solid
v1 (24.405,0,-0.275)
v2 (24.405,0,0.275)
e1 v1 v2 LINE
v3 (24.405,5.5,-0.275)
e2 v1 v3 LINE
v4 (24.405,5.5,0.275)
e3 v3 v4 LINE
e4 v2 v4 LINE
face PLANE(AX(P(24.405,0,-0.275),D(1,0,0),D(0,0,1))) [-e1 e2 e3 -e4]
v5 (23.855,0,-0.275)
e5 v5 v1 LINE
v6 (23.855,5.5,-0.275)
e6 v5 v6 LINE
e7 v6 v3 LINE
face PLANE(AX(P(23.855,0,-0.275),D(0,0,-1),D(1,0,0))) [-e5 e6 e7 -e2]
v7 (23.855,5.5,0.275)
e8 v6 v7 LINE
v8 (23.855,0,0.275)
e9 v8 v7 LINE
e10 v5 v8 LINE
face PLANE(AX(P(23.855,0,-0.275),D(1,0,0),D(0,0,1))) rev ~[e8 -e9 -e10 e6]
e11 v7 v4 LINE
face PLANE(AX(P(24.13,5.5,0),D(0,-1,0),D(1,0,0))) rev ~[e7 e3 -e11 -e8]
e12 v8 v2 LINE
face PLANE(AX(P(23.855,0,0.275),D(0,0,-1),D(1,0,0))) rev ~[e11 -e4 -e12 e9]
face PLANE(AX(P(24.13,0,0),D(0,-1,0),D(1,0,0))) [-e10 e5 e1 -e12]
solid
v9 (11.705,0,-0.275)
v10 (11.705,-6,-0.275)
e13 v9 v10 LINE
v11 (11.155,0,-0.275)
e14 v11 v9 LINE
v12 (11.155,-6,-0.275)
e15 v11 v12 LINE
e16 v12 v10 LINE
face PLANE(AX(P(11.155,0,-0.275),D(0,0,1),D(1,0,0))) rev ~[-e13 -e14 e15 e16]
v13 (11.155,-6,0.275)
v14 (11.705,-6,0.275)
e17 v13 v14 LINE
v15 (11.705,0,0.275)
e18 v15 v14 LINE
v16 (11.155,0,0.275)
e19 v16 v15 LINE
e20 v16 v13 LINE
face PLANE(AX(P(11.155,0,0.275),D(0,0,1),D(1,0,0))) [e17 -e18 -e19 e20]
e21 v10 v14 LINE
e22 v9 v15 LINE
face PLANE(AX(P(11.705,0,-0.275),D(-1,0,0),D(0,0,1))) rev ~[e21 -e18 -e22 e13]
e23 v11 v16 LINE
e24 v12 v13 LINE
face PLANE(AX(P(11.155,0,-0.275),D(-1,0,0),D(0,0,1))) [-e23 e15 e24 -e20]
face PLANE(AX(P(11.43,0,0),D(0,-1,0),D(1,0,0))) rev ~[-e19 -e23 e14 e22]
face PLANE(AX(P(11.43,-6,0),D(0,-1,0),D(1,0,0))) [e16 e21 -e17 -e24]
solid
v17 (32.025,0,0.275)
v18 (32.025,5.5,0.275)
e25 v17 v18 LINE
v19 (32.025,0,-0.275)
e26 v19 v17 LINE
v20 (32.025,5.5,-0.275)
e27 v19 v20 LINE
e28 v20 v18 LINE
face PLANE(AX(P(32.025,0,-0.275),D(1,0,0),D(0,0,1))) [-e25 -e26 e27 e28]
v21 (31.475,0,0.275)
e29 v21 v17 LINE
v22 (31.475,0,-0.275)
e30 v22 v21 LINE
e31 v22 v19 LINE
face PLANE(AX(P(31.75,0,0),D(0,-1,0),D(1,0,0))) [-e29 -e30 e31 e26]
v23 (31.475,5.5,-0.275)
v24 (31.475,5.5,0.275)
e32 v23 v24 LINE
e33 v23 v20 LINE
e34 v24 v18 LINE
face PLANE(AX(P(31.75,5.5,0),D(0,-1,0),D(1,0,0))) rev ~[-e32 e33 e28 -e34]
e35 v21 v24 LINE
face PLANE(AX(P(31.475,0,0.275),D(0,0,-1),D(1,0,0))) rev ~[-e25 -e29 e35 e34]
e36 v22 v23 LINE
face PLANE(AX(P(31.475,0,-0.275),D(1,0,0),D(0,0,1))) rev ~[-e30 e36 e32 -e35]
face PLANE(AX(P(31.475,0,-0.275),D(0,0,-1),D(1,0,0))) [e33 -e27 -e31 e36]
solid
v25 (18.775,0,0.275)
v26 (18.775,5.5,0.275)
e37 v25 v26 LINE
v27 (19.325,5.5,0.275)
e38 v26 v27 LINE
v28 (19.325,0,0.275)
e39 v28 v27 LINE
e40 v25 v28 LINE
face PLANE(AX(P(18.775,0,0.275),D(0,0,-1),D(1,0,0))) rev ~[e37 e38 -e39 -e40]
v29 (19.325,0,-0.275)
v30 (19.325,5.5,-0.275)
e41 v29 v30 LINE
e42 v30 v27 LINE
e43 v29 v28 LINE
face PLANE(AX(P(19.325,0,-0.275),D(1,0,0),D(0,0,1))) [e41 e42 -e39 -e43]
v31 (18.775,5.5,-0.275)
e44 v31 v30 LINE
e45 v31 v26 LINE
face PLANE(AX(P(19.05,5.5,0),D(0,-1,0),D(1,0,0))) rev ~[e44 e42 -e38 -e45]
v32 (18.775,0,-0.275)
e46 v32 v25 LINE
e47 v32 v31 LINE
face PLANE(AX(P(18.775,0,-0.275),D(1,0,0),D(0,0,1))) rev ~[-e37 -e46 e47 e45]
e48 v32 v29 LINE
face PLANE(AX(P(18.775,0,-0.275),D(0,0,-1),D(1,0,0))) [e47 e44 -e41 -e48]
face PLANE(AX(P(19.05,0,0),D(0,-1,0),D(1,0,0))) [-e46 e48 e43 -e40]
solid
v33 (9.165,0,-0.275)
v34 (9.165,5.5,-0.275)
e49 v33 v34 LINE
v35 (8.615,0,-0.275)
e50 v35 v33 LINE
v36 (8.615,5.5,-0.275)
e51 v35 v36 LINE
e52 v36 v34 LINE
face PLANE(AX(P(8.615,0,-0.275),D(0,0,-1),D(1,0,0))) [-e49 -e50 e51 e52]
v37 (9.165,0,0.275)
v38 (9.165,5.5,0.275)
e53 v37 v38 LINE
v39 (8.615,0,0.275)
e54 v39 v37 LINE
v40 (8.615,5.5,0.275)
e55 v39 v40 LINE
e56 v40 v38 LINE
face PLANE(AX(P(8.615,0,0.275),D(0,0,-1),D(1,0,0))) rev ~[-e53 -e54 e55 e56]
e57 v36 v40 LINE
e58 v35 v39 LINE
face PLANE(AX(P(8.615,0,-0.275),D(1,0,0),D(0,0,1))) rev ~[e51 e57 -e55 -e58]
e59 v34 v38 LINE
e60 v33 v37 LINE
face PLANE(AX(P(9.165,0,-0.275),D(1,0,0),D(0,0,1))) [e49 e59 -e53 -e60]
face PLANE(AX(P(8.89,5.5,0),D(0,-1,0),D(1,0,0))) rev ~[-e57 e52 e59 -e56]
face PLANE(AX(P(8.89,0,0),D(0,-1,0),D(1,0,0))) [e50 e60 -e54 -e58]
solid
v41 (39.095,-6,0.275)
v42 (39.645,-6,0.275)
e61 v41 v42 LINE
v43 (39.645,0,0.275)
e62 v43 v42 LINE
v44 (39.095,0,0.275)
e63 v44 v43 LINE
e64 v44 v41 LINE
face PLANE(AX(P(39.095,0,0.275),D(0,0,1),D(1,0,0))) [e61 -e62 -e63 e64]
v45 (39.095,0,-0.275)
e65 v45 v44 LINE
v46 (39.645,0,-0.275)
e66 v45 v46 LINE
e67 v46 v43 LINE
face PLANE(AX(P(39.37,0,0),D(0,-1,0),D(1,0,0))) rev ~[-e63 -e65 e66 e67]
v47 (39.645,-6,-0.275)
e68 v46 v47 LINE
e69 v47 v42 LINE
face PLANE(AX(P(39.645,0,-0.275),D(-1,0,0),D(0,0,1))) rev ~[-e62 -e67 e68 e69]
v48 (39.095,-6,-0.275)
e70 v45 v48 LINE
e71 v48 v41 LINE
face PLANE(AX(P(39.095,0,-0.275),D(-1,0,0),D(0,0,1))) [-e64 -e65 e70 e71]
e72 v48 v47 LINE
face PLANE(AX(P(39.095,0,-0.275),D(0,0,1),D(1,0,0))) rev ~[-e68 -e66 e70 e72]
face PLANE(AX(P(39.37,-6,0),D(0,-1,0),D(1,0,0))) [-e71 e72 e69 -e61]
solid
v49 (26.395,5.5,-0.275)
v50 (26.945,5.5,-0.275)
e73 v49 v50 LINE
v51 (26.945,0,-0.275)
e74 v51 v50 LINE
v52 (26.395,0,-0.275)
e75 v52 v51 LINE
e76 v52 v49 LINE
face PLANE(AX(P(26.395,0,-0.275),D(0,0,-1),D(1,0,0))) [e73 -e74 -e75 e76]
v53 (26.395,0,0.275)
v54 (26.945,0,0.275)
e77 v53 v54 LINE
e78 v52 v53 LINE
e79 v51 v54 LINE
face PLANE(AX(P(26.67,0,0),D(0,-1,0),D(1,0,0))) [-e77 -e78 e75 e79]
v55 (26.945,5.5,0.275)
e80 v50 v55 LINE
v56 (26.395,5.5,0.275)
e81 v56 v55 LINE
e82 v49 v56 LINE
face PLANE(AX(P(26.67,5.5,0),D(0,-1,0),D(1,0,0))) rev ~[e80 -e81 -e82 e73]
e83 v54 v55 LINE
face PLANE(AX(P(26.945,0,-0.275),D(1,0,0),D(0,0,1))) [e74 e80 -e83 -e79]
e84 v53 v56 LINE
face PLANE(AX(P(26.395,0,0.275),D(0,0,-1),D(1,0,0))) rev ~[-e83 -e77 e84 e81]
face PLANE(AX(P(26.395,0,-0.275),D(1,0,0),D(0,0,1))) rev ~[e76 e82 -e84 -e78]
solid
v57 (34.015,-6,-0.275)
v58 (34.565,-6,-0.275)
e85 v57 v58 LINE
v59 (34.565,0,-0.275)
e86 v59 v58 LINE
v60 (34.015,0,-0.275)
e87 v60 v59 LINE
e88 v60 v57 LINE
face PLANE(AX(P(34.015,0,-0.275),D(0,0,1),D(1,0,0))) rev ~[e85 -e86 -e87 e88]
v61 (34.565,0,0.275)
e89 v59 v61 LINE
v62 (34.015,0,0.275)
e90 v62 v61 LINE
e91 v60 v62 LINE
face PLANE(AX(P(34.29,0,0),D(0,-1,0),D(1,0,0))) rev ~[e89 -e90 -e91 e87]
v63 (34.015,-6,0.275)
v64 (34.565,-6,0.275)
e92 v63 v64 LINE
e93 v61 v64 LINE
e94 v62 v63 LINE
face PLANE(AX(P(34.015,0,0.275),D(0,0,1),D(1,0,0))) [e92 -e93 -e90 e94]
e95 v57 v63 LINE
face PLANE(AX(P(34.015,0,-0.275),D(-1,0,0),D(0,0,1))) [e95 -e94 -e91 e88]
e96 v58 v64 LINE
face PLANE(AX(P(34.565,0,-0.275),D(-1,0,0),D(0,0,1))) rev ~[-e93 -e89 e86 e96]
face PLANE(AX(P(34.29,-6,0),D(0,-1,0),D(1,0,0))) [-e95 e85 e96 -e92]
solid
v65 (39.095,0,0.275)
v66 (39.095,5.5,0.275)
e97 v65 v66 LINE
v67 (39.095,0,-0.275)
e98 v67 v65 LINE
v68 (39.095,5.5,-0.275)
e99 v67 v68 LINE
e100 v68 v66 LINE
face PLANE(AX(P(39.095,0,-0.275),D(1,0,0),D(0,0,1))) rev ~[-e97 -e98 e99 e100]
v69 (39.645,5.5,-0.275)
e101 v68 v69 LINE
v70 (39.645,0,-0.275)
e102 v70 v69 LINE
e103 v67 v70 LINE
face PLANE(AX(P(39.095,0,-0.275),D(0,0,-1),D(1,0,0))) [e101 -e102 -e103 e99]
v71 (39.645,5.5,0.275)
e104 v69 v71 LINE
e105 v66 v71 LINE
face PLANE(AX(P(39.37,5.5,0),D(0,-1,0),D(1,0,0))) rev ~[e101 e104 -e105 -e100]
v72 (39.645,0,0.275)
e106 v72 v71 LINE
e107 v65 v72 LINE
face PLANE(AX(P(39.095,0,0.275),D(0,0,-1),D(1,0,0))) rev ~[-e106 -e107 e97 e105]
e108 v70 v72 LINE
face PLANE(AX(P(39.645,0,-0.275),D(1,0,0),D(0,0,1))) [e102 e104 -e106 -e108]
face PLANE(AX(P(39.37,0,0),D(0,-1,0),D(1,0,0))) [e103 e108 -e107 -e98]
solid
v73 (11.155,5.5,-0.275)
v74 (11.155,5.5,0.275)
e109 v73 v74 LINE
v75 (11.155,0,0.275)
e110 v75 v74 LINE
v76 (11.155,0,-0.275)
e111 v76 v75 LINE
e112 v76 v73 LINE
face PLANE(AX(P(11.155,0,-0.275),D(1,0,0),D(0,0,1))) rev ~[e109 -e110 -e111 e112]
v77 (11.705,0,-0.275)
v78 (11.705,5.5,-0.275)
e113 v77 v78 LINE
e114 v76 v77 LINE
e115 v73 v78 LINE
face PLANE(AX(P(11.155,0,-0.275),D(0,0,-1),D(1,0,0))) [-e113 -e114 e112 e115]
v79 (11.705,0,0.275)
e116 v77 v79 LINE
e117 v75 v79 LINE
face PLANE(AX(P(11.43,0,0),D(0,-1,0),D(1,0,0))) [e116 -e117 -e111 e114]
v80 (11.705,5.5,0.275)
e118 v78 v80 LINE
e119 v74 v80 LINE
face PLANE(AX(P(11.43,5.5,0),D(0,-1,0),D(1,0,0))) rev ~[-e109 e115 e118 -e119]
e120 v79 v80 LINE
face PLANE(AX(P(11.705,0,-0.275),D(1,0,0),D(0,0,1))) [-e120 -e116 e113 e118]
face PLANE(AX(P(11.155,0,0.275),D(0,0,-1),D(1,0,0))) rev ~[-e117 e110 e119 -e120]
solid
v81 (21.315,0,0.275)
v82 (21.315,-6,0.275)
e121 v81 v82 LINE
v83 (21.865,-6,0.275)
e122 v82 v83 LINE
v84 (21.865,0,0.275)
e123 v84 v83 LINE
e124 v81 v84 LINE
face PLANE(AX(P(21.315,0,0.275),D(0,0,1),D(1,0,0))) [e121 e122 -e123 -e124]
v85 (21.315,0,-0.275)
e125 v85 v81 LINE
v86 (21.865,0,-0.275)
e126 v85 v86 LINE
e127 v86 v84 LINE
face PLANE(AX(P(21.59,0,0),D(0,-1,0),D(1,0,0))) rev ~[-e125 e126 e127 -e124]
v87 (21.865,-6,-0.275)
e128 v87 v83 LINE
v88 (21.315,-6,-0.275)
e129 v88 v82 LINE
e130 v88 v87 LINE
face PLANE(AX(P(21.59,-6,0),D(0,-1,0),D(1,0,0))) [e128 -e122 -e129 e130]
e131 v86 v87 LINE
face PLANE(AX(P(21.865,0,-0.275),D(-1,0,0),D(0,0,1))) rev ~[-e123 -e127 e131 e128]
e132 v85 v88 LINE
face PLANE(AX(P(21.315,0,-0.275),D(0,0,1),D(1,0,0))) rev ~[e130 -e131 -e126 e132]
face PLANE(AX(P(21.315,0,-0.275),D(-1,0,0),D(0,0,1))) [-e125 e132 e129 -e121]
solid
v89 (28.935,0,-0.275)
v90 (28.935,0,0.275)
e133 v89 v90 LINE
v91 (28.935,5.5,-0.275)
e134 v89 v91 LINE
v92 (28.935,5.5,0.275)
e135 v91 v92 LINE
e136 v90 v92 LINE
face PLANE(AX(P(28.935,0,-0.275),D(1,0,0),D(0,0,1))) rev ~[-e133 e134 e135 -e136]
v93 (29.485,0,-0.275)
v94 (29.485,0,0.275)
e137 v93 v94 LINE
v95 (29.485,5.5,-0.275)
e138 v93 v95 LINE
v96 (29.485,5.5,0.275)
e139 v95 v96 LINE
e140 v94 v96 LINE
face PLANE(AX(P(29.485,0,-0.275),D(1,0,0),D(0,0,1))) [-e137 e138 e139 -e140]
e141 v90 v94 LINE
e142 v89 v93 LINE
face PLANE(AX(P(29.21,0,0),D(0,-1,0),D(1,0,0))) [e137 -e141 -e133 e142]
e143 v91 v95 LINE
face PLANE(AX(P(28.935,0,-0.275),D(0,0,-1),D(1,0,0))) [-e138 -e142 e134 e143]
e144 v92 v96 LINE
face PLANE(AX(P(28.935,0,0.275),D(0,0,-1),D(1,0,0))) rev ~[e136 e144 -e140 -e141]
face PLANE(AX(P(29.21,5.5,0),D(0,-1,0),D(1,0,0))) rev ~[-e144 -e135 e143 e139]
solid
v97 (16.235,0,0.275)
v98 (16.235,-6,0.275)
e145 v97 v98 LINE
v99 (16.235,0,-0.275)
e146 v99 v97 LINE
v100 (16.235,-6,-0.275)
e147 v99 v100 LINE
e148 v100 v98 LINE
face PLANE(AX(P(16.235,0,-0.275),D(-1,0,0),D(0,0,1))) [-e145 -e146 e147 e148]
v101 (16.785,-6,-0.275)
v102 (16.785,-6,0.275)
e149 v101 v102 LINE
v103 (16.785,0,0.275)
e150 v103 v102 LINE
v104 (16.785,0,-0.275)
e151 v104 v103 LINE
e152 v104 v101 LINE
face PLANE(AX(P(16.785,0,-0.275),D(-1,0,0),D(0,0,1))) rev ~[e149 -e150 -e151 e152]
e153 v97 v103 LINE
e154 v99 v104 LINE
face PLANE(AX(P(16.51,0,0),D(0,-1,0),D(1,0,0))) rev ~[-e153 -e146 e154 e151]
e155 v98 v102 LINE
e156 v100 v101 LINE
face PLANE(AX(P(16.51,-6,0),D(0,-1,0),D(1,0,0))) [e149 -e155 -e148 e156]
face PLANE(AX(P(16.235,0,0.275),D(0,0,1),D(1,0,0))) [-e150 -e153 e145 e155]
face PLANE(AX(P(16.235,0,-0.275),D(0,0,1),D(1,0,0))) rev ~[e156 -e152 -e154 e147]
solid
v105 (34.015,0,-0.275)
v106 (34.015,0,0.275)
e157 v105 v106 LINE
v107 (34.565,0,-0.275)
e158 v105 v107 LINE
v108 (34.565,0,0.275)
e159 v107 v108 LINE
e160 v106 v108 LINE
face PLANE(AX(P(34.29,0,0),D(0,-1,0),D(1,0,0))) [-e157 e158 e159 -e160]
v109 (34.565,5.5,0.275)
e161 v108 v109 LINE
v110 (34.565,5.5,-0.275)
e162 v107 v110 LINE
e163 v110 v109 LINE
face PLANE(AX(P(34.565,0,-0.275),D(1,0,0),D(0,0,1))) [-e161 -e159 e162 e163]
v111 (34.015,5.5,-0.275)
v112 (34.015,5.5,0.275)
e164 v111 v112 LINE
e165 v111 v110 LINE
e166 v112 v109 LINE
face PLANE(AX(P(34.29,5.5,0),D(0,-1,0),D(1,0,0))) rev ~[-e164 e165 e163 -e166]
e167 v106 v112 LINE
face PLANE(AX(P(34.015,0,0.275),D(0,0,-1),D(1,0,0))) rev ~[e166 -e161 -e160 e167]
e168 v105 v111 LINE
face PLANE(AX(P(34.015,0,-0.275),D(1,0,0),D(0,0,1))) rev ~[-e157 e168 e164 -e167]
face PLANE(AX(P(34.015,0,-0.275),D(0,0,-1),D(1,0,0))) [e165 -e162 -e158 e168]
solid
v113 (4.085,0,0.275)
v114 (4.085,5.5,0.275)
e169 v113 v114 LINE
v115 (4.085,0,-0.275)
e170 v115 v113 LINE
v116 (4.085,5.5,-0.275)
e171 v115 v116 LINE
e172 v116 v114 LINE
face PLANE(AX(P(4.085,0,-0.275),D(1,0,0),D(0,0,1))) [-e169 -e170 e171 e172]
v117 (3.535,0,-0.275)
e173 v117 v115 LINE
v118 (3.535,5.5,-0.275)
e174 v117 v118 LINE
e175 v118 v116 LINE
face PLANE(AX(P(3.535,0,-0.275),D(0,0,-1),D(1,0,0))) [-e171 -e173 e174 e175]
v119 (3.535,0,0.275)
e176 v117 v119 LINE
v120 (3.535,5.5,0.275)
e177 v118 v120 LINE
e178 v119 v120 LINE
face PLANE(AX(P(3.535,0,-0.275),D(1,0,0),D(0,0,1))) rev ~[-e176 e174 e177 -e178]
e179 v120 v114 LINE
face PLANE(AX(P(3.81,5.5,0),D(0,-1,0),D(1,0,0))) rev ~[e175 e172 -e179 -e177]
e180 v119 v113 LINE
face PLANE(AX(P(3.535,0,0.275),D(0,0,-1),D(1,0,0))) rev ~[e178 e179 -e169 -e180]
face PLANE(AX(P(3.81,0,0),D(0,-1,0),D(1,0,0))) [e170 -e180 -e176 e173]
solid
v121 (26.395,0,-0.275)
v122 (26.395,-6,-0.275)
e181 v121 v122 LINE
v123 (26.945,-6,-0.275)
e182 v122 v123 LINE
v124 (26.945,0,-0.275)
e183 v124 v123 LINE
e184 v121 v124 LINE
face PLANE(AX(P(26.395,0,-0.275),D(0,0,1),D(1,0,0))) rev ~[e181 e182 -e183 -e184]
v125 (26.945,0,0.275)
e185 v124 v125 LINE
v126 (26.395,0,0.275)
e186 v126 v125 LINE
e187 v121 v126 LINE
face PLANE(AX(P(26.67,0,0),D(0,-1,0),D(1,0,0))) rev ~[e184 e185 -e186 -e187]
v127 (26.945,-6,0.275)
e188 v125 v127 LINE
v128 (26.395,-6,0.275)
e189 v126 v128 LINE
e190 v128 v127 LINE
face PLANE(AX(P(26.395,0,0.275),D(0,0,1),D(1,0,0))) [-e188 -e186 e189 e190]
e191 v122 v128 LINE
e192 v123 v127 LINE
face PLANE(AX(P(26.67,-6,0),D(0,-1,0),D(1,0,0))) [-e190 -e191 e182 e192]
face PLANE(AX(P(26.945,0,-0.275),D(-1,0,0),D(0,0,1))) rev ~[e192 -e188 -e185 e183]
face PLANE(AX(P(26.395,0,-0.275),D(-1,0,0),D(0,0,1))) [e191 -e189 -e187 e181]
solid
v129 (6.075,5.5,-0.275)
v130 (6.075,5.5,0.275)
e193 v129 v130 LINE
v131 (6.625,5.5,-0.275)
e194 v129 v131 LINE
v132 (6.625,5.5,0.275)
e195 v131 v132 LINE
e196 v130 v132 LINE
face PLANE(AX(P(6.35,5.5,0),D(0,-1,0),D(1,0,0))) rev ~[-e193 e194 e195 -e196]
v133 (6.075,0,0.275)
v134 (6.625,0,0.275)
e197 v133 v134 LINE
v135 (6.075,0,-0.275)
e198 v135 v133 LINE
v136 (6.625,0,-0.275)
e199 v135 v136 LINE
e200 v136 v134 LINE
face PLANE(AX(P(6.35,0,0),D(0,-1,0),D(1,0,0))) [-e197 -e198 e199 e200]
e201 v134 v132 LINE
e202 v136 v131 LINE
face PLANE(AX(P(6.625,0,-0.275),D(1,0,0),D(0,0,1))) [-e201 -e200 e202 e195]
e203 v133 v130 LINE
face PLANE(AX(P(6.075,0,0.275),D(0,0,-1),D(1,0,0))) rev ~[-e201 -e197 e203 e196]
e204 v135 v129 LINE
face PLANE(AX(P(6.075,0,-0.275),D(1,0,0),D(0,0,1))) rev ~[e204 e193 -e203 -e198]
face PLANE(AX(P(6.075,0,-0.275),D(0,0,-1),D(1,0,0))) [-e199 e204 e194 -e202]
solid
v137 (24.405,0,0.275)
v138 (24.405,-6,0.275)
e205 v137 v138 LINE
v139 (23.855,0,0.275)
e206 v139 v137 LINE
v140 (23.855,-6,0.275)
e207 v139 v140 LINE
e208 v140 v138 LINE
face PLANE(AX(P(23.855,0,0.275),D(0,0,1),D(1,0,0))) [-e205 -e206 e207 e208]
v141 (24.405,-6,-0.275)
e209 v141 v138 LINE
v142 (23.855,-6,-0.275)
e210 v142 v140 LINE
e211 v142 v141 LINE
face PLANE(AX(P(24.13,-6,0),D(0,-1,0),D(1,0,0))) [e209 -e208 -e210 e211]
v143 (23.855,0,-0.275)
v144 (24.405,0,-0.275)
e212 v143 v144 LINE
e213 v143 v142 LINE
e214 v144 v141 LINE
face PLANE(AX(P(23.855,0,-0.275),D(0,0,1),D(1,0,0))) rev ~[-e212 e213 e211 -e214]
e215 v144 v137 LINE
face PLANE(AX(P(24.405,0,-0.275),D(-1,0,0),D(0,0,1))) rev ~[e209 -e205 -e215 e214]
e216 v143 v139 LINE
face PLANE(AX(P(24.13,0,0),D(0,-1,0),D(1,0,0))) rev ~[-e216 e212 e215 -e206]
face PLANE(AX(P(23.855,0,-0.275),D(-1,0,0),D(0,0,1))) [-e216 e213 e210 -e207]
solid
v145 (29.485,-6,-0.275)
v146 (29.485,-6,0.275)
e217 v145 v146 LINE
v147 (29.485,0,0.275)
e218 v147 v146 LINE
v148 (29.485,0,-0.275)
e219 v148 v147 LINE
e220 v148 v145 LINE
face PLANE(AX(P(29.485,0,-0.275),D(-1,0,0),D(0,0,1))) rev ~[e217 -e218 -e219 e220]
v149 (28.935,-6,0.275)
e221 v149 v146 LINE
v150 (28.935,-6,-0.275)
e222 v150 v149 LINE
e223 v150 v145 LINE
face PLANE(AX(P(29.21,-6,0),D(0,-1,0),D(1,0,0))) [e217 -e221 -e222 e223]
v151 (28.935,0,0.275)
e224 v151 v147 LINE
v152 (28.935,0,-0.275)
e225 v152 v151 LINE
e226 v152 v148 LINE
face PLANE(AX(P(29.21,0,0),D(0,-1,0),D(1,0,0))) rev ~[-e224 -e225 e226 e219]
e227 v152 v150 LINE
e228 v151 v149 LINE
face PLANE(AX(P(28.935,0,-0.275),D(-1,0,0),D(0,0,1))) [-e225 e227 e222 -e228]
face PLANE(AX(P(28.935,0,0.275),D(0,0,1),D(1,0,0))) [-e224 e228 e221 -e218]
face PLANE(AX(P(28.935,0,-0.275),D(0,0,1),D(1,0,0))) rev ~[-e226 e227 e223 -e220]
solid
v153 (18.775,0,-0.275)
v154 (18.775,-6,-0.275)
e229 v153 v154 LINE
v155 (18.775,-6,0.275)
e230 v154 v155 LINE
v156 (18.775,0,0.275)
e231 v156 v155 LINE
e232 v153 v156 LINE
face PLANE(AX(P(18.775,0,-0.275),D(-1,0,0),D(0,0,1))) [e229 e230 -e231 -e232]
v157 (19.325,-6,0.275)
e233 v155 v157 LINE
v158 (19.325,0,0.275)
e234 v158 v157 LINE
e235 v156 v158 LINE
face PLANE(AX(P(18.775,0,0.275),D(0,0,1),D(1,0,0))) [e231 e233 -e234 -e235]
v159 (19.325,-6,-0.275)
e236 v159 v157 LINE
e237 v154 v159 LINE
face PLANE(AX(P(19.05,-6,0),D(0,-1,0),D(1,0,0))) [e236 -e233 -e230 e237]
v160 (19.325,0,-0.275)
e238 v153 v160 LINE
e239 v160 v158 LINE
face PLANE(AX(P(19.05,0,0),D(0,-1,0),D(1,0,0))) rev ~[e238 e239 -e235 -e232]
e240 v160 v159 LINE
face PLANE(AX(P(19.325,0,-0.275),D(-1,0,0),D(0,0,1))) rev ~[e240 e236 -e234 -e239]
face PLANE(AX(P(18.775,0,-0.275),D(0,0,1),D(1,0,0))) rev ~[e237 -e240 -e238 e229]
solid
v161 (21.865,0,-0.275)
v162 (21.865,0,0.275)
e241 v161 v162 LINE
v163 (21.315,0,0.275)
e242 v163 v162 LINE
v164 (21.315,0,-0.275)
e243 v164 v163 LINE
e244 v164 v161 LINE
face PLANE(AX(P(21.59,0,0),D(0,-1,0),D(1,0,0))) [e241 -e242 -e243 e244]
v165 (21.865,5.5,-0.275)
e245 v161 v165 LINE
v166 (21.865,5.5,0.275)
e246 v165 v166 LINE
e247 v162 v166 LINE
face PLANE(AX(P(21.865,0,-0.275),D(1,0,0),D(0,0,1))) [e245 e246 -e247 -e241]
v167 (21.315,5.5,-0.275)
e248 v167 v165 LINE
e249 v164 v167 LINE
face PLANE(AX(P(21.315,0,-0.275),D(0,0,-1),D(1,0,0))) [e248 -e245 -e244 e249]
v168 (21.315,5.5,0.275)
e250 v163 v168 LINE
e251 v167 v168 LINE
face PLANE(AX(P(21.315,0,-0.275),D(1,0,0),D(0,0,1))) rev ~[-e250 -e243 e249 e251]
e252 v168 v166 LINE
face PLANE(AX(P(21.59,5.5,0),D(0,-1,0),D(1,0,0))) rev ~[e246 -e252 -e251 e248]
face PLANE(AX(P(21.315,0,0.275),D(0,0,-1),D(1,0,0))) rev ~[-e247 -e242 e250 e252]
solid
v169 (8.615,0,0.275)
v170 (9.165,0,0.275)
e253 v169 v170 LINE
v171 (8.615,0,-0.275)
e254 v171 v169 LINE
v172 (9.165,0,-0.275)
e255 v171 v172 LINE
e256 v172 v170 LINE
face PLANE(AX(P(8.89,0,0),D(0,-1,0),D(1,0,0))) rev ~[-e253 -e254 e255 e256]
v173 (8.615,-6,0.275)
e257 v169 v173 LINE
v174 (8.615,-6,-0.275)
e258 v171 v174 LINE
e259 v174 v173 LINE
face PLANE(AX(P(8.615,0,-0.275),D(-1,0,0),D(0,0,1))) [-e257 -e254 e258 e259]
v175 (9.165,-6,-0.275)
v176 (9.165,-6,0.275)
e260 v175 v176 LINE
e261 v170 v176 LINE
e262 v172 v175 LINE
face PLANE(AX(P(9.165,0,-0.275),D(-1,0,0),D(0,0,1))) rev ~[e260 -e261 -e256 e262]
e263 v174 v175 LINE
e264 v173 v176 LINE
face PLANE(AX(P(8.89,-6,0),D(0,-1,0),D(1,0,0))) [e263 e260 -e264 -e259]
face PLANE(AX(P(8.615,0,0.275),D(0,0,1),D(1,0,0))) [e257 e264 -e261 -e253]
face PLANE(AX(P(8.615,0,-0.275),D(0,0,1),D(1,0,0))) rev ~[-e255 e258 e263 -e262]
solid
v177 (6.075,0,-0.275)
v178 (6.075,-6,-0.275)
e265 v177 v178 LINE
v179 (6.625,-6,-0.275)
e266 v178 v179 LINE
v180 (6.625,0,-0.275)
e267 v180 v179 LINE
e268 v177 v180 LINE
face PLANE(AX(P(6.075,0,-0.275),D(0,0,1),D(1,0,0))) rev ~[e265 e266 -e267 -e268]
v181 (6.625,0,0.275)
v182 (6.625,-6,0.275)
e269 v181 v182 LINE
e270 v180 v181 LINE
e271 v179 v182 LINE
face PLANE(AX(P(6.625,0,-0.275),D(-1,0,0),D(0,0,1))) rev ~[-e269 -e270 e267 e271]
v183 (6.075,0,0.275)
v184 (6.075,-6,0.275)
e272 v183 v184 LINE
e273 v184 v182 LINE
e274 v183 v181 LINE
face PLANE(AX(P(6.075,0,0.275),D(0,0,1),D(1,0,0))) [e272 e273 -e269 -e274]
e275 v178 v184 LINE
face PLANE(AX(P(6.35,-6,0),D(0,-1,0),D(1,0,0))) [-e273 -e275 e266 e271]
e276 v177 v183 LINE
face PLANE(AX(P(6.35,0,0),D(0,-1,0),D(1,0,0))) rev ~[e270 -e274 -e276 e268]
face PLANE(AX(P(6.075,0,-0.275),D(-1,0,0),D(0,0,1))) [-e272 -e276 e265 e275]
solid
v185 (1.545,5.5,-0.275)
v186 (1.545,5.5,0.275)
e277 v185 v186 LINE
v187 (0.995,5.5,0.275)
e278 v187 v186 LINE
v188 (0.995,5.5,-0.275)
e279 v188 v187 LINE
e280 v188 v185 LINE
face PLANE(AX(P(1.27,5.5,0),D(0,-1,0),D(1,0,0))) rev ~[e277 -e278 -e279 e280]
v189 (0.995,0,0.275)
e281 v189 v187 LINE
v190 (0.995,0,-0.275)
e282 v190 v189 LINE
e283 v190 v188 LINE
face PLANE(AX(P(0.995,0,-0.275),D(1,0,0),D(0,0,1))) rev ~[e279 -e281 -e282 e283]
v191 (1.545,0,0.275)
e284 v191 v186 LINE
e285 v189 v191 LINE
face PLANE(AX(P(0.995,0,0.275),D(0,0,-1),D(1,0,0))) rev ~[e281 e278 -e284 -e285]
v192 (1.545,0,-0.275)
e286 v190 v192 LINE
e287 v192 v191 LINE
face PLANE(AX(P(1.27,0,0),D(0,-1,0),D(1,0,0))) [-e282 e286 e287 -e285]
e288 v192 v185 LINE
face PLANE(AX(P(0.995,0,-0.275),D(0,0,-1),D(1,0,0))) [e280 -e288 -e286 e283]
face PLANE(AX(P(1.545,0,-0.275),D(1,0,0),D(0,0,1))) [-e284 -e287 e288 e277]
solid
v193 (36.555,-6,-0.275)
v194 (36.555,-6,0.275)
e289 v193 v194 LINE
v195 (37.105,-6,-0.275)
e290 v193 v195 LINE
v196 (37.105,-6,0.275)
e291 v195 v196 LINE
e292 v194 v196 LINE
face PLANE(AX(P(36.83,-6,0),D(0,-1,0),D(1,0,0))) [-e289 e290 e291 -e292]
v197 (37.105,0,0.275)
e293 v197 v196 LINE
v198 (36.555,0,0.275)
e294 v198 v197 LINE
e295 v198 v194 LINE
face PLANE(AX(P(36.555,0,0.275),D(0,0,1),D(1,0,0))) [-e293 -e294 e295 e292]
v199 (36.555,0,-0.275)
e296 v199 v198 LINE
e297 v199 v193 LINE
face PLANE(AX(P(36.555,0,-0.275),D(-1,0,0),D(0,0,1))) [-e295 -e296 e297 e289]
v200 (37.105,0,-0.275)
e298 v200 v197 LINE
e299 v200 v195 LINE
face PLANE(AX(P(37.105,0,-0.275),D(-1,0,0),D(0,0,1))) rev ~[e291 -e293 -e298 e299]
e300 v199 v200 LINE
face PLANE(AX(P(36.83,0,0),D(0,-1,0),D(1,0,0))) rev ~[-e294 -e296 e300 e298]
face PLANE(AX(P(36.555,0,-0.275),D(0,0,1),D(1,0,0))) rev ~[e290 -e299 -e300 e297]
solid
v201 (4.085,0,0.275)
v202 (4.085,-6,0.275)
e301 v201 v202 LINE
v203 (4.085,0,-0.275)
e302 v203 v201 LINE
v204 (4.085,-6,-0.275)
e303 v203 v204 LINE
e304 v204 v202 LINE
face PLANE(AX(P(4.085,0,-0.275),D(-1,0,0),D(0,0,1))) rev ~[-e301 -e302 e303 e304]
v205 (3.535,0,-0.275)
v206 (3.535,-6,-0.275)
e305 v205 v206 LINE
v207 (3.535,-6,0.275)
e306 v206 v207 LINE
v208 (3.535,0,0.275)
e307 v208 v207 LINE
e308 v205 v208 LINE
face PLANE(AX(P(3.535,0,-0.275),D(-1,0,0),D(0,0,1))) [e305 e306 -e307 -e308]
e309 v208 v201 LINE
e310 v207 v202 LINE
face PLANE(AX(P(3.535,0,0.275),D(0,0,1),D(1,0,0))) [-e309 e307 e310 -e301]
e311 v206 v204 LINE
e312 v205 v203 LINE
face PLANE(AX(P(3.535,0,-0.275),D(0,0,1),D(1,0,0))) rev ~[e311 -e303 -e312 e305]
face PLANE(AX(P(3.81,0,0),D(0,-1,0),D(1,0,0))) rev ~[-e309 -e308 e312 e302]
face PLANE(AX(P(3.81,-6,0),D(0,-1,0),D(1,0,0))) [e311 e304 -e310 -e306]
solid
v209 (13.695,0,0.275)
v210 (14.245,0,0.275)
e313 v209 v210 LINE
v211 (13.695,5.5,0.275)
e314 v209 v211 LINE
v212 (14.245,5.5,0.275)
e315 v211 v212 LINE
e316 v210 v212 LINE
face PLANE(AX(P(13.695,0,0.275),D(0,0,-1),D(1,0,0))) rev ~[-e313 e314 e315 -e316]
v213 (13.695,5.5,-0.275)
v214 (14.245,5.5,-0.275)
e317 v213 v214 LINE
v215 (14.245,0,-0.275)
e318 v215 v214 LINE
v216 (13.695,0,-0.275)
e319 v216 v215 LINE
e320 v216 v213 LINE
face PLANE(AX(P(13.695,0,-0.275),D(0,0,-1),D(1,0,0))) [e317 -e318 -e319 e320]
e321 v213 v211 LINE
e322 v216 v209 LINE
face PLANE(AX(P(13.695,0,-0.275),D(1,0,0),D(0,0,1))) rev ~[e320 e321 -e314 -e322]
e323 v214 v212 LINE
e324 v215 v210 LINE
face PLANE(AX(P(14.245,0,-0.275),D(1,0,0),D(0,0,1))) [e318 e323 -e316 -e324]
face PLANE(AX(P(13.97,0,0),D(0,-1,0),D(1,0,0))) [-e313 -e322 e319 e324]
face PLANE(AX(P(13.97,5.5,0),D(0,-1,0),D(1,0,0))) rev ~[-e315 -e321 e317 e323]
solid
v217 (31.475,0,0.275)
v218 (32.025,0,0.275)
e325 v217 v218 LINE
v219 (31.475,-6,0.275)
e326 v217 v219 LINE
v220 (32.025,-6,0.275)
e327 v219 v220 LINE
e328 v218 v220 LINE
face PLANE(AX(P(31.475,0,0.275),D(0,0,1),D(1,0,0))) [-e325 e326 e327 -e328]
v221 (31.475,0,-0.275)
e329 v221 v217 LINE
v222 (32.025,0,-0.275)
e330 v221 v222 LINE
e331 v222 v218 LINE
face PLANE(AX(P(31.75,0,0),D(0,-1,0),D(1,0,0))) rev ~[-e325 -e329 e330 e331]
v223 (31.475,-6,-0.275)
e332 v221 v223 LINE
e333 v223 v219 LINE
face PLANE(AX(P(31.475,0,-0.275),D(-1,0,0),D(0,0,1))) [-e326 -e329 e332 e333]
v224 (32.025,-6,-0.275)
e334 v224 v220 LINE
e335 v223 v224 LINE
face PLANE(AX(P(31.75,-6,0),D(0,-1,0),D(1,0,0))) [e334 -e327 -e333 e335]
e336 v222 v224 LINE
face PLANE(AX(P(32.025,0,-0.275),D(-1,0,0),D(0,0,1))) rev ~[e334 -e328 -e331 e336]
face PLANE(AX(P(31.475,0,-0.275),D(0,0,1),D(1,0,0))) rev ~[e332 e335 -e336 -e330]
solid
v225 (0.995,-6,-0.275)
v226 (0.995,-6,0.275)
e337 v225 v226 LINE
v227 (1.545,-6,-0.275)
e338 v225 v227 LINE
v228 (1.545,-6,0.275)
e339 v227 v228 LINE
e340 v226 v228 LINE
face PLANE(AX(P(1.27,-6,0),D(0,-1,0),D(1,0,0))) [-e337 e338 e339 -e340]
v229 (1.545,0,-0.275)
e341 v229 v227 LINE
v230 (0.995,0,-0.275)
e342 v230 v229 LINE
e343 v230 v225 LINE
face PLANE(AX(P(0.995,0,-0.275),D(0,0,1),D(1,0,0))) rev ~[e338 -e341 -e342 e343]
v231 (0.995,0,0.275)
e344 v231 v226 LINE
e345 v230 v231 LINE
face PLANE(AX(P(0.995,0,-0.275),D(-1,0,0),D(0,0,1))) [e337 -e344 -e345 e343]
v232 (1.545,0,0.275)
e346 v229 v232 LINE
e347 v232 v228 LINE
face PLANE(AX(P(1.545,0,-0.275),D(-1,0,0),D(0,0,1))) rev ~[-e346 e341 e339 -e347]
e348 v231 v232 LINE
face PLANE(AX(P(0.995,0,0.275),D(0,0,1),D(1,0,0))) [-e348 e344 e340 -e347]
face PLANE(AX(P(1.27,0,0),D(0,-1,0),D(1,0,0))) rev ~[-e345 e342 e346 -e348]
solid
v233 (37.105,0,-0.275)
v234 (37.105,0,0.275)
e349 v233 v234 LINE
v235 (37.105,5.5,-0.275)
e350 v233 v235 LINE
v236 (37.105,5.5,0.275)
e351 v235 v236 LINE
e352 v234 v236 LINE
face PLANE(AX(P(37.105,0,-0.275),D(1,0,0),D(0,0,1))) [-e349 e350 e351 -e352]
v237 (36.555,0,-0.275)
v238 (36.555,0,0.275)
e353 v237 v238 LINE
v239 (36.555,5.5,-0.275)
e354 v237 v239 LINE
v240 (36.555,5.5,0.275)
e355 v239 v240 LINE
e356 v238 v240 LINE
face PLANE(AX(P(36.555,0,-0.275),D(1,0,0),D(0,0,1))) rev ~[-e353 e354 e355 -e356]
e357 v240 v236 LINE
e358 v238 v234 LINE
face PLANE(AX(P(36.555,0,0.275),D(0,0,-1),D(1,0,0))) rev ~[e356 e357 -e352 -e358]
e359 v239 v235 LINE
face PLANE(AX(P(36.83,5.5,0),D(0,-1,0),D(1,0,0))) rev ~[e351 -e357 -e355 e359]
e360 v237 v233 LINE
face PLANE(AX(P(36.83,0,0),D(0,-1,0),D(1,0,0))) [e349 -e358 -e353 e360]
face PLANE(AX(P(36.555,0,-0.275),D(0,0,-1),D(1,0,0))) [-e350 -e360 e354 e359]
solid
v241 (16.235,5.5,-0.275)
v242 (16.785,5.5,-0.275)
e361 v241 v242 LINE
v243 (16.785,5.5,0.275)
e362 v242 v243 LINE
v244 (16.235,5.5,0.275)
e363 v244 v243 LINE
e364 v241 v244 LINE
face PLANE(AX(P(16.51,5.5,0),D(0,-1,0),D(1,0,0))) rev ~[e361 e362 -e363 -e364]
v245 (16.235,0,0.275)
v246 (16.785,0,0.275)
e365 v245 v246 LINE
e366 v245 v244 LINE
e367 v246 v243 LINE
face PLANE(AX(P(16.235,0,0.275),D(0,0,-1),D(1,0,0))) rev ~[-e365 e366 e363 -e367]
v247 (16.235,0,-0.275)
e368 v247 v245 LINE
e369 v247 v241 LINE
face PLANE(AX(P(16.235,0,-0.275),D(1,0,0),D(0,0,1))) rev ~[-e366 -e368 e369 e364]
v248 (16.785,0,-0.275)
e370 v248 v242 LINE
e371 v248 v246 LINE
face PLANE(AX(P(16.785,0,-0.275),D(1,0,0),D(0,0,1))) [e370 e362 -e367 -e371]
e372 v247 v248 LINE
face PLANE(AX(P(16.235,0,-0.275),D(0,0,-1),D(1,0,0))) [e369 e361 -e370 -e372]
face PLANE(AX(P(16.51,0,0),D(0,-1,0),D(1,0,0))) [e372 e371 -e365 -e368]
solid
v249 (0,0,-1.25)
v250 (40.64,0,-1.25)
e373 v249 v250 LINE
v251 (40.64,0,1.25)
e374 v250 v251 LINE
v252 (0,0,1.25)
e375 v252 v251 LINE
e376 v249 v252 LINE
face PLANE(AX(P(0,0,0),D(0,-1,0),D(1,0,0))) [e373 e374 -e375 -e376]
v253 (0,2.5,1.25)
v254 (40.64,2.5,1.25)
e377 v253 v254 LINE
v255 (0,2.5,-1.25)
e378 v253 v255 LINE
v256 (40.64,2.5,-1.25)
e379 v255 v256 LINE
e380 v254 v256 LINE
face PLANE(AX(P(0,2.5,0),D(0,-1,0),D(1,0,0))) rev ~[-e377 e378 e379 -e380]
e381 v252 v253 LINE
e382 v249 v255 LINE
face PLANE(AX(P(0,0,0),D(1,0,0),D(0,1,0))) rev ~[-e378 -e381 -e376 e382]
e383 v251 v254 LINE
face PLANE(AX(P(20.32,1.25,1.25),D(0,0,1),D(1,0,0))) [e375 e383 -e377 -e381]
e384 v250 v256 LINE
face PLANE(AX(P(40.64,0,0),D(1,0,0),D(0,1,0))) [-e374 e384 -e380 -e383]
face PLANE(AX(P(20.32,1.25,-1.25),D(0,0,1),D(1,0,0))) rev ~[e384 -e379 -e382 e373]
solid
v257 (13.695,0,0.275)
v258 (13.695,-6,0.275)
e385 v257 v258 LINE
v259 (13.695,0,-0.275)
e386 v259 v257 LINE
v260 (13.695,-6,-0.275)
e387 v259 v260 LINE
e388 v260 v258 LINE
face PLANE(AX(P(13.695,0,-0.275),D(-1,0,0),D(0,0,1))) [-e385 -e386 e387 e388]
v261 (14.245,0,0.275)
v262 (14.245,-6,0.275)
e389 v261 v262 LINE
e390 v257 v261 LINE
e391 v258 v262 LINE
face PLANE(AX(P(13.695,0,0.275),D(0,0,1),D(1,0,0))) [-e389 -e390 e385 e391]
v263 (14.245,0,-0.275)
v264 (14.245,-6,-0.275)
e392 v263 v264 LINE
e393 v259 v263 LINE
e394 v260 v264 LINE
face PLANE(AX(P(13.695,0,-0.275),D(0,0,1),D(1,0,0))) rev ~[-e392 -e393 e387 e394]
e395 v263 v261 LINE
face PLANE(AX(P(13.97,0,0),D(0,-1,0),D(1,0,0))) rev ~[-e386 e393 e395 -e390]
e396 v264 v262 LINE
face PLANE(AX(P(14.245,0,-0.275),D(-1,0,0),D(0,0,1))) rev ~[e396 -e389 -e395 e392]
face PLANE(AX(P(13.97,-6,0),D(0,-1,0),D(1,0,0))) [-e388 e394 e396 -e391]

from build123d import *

# Parameters (mm, degrees)
SKETCH1_W              = 40.64
SKETCH1_H              = 2.5
BOSS_EXTRUDE1_DEPTH    = 1.25
SKETCH2_W              = 0.55
SKETCH2_H              = 0.55
BOSS_EXTRUDE2_DEPTH    = 6
BOSS_EXTRUDE2_2_DEPTH  = 6
BOSS_EXTRUDE2_3_DEPTH  = 6
BOSS_EXTRUDE2_4_DEPTH  = 6
BOSS_EXTRUDE2_5_DEPTH  = 6
BOSS_EXTRUDE2_6_DEPTH  = 6
BOSS_EXTRUDE2_7_DEPTH  = 6
BOSS_EXTRUDE2_8_DEPTH  = 6
BOSS_EXTRUDE2_9_DEPTH  = 6
BOSS_EXTRUDE2_10_DEPTH = 6
BOSS_EXTRUDE2_11_DEPTH = 6
BOSS_EXTRUDE2_12_DEPTH = 6
BOSS_EXTRUDE2_13_DEPTH = 6
BOSS_EXTRUDE2_14_DEPTH = 6
BOSS_EXTRUDE2_15_DEPTH = 6
BOSS_EXTRUDE2_16_DEPTH = 6
SKETCH2_2_W            = 0.55
SKETCH2_2_H            = 0.55
BOSS_EXTRUDE3_DEPTH    = 5.5
BOSS_EXTRUDE3_2_DEPTH  = 5.5
BOSS_EXTRUDE3_3_DEPTH  = 5.5
BOSS_EXTRUDE3_4_DEPTH  = 5.5
BOSS_EXTRUDE3_5_DEPTH  = 5.5
BOSS_EXTRUDE3_6_DEPTH  = 5.5
BOSS_EXTRUDE3_7_DEPTH  = 5.5
BOSS_EXTRUDE3_8_DEPTH  = 5.5
BOSS_EXTRUDE3_9_DEPTH  = 5.5
BOSS_EXTRUDE3_10_DEPTH = 5.5
BOSS_EXTRUDE3_11_DEPTH = 5.5
BOSS_EXTRUDE3_12_DEPTH = 5.5
BOSS_EXTRUDE3_13_DEPTH = 5.5
BOSS_EXTRUDE3_14_DEPTH = 5.5
BOSS_EXTRUDE3_15_DEPTH = 5.5
BOSS_EXTRUDE3_16_DEPTH = 5.5


with BuildPart() as part:
    # Sketch1 → Boss-Extrude1 (new body, symmetric)
    with BuildSketch(Plane.XY):
        with Locations((20.32, 1.25)):
            Rectangle(SKETCH1_W, SKETCH1_H)
    extrude(amount=BOSS_EXTRUDE1_DEPTH, both=True)


with BuildPart() as body_2:
    # Sketch2 → Boss-Extrude2 (new body)
    with BuildSketch(Plane.XZ):
        with Locations((3.81, 0)):
            Rectangle(SKETCH2_W, SKETCH2_H)
    extrude(amount=BOSS_EXTRUDE2_DEPTH)


with BuildPart() as body_3:
    # Sketch2 → Boss-Extrude2 2 (new body)
    with BuildSketch(Plane.XZ):
        with Locations((1.27, 0)):
            Rectangle(SKETCH2_W, SKETCH2_H)
    extrude(amount=BOSS_EXTRUDE2_2_DEPTH)


with BuildPart() as body_4:
    # Sketch2 → Boss-Extrude2 3 (new body)
    with BuildSketch(Plane.XZ):
        with Locations((6.35, 0)):
            Rectangle(SKETCH2_W, SKETCH2_H)
    extrude(amount=BOSS_EXTRUDE2_3_DEPTH)


with BuildPart() as body_5:
    # Sketch2 → Boss-Extrude2 4 (new body)
    with BuildSketch(Plane.XZ):
        with Locations((8.89, 0)):
            Rectangle(SKETCH2_W, SKETCH2_H)
    extrude(amount=BOSS_EXTRUDE2_4_DEPTH)


with BuildPart() as body_6:
    # Sketch2 → Boss-Extrude2 5 (new body)
    with BuildSketch(Plane.XZ):
        with Locations((11.43, 0)):
            Rectangle(SKETCH2_W, SKETCH2_H)
    extrude(amount=BOSS_EXTRUDE2_5_DEPTH)


with BuildPart() as body_7:
    # Sketch2 → Boss-Extrude2 6 (new body)
    with BuildSketch(Plane.XZ):
        with Locations((13.97, 0)):
            Rectangle(SKETCH2_W, SKETCH2_H)
    extrude(amount=BOSS_EXTRUDE2_6_DEPTH)


with BuildPart() as body_8:
    # Sketch2 → Boss-Extrude2 7 (new body)
    with BuildSketch(Plane.XZ):
        with Locations((16.51, 0)):
            Rectangle(SKETCH2_W, SKETCH2_H)
    extrude(amount=BOSS_EXTRUDE2_7_DEPTH)


with BuildPart() as body_9:
    # Sketch2 → Boss-Extrude2 8 (new body)
    with BuildSketch(Plane.XZ):
        with Locations((19.05, 0)):
            Rectangle(SKETCH2_W, SKETCH2_H)
    extrude(amount=BOSS_EXTRUDE2_8_DEPTH)


with BuildPart() as body_10:
    # Sketch2 → Boss-Extrude2 9 (new body)
    with BuildSketch(Plane.XZ):
        with Locations((21.59, 0)):
            Rectangle(SKETCH2_W, SKETCH2_H)
    extrude(amount=BOSS_EXTRUDE2_9_DEPTH)


with BuildPart() as body_11:
    # Sketch2 → Boss-Extrude2 10 (new body)
    with BuildSketch(Plane.XZ):
        with Locations((24.13, 0)):
            Rectangle(SKETCH2_W, SKETCH2_H)
    extrude(amount=BOSS_EXTRUDE2_10_DEPTH)


with BuildPart() as body_12:
    # Sketch2 → Boss-Extrude2 11 (new body)
    with BuildSketch(Plane.XZ):
        with Locations((26.67, 0)):
            Rectangle(SKETCH2_W, SKETCH2_H)
    extrude(amount=BOSS_EXTRUDE2_11_DEPTH)


with BuildPart() as body_13:
    # Sketch2 → Boss-Extrude2 12 (new body)
    with BuildSketch(Plane.XZ):
        with Locations((29.21, 0)):
            Rectangle(SKETCH2_W, SKETCH2_H)
    extrude(amount=BOSS_EXTRUDE2_12_DEPTH)


with BuildPart() as body_14:
    # Sketch2 → Boss-Extrude2 13 (new body)
    with BuildSketch(Plane.XZ):
        with Locations((31.75, 0)):
            Rectangle(SKETCH2_W, SKETCH2_H)
    extrude(amount=BOSS_EXTRUDE2_13_DEPTH)


with BuildPart() as body_15:
    # Sketch2 → Boss-Extrude2 14 (new body)
    with BuildSketch(Plane.XZ):
        with Locations((34.29, 0)):
            Rectangle(SKETCH2_W, SKETCH2_H)
    extrude(amount=BOSS_EXTRUDE2_14_DEPTH)


with BuildPart() as body_16:
    # Sketch2 → Boss-Extrude2 15 (new body)
    with BuildSketch(Plane.XZ):
        with Locations((36.83, 0)):
            Rectangle(SKETCH2_W, SKETCH2_H)
    extrude(amount=BOSS_EXTRUDE2_15_DEPTH)


with BuildPart() as body_17:
    # Sketch2 → Boss-Extrude2 16 (new body)
    with BuildSketch(Plane.XZ):
        with Locations((39.37, 0)):
            Rectangle(SKETCH2_W, SKETCH2_H)
    extrude(amount=BOSS_EXTRUDE2_16_DEPTH)


with BuildPart() as body_18:
    # Sketch2<2> → Boss-Extrude3 (new body)
    with BuildSketch(Plane.XZ):
        with Locations((3.81, 0)):
            Rectangle(SKETCH2_2_W, SKETCH2_2_H)
    extrude(amount=-BOSS_EXTRUDE3_DEPTH)


with BuildPart() as body_19:
    # Sketch2<2> → Boss-Extrude3 2 (new body)
    with BuildSketch(Plane.XZ):
        with Locations((1.27, 0)):
            Rectangle(SKETCH2_2_W, SKETCH2_2_H)
    extrude(amount=-BOSS_EXTRUDE3_2_DEPTH)


with BuildPart() as body_20:
    # Sketch2<2> → Boss-Extrude3 3 (new body)
    with BuildSketch(Plane.XZ):
        with Locations((6.35, 0)):
            Rectangle(SKETCH2_2_W, SKETCH2_2_H)
    extrude(amount=-BOSS_EXTRUDE3_3_DEPTH)


with BuildPart() as body_21:
    # Sketch2<2> → Boss-Extrude3 4 (new body)
    with BuildSketch(Plane.XZ):
        with Locations((8.89, 0)):
            Rectangle(SKETCH2_2_W, SKETCH2_2_H)
    extrude(amount=-BOSS_EXTRUDE3_4_DEPTH)


with BuildPart() as body_22:
    # Sketch2<2> → Boss-Extrude3 5 (new body)
    with BuildSketch(Plane.XZ):
        with Locations((11.43, 0)):
            Rectangle(SKETCH2_2_W, SKETCH2_2_H)
    extrude(amount=-BOSS_EXTRUDE3_5_DEPTH)


with BuildPart() as body_23:
    # Sketch2<2> → Boss-Extrude3 6 (new body)
    with BuildSketch(Plane.XZ):
        with Locations((13.97, 0)):
            Rectangle(SKETCH2_2_W, SKETCH2_2_H)
    extrude(amount=-BOSS_EXTRUDE3_6_DEPTH)


with BuildPart() as body_24:
    # Sketch2<2> → Boss-Extrude3 7 (new body)
    with BuildSketch(Plane.XZ):
        with Locations((16.51, 0)):
            Rectangle(SKETCH2_2_W, SKETCH2_2_H)
    extrude(amount=-BOSS_EXTRUDE3_7_DEPTH)


with BuildPart() as body_25:
    # Sketch2<2> → Boss-Extrude3 8 (new body)
    with BuildSketch(Plane.XZ):
        with Locations((19.05, 0)):
            Rectangle(SKETCH2_2_W, SKETCH2_2_H)
    extrude(amount=-BOSS_EXTRUDE3_8_DEPTH)


with BuildPart() as body_26:
    # Sketch2<2> → Boss-Extrude3 9 (new body)
    with BuildSketch(Plane.XZ):
        with Locations((21.59, 0)):
            Rectangle(SKETCH2_2_W, SKETCH2_2_H)
    extrude(amount=-BOSS_EXTRUDE3_9_DEPTH)


with BuildPart() as body_27:
    # Sketch2<2> → Boss-Extrude3 10 (new body)
    with BuildSketch(Plane.XZ):
        with Locations((24.13, 0)):
            Rectangle(SKETCH2_2_W, SKETCH2_2_H)
    extrude(amount=-BOSS_EXTRUDE3_10_DEPTH)


with BuildPart() as body_28:
    # Sketch2<2> → Boss-Extrude3 11 (new body)
    with BuildSketch(Plane.XZ):
        with Locations((26.67, 0)):
            Rectangle(SKETCH2_2_W, SKETCH2_2_H)
    extrude(amount=-BOSS_EXTRUDE3_11_DEPTH)


with BuildPart() as body_29:
    # Sketch2<2> → Boss-Extrude3 12 (new body)
    with BuildSketch(Plane.XZ):
        with Locations((29.21, 0)):
            Rectangle(SKETCH2_2_W, SKETCH2_2_H)
    extrude(amount=-BOSS_EXTRUDE3_12_DEPTH)


with BuildPart() as body_30:
    # Sketch2<2> → Boss-Extrude3 13 (new body)
    with BuildSketch(Plane.XZ):
        with Locations((31.75, 0)):
            Rectangle(SKETCH2_2_W, SKETCH2_2_H)
    extrude(amount=-BOSS_EXTRUDE3_13_DEPTH)


with BuildPart() as body_31:
    # Sketch2<2> → Boss-Extrude3 14 (new body)
    with BuildSketch(Plane.XZ):
        with Locations((34.29, 0)):
            Rectangle(SKETCH2_2_W, SKETCH2_2_H)
    extrude(amount=-BOSS_EXTRUDE3_14_DEPTH)


with BuildPart() as body_32:
    # Sketch2<2> → Boss-Extrude3 15 (new body)
    with BuildSketch(Plane.XZ):
        with Locations((36.83, 0)):
            Rectangle(SKETCH2_2_W, SKETCH2_2_H)
    extrude(amount=-BOSS_EXTRUDE3_15_DEPTH)


with BuildPart() as body_33:
    # Sketch2<2> → Boss-Extrude3 16 (new body)
    with BuildSketch(Plane.XZ):
        with Locations((39.37, 0)):
            Rectangle(SKETCH2_2_W, SKETCH2_2_H)
    extrude(amount=-BOSS_EXTRUDE3_16_DEPTH)


solid = Compound([part.part, body_2.part, body_3.part, body_4.part, body_5.part, body_6.part, body_7.part, body_8.part, body_9.part, body_10.part, body_11.part, body_12.part, body_13.part, body_14.part, body_15.part, body_16.part, body_17.part, body_18.part, body_19.part, body_20.part, body_21.part, body_22.part, body_23.part, body_24.part, body_25.part, body_26.part, body_27.part, body_28.part, body_29.part, body_30.part, body_31.part, body_32.part, body_33.part])
